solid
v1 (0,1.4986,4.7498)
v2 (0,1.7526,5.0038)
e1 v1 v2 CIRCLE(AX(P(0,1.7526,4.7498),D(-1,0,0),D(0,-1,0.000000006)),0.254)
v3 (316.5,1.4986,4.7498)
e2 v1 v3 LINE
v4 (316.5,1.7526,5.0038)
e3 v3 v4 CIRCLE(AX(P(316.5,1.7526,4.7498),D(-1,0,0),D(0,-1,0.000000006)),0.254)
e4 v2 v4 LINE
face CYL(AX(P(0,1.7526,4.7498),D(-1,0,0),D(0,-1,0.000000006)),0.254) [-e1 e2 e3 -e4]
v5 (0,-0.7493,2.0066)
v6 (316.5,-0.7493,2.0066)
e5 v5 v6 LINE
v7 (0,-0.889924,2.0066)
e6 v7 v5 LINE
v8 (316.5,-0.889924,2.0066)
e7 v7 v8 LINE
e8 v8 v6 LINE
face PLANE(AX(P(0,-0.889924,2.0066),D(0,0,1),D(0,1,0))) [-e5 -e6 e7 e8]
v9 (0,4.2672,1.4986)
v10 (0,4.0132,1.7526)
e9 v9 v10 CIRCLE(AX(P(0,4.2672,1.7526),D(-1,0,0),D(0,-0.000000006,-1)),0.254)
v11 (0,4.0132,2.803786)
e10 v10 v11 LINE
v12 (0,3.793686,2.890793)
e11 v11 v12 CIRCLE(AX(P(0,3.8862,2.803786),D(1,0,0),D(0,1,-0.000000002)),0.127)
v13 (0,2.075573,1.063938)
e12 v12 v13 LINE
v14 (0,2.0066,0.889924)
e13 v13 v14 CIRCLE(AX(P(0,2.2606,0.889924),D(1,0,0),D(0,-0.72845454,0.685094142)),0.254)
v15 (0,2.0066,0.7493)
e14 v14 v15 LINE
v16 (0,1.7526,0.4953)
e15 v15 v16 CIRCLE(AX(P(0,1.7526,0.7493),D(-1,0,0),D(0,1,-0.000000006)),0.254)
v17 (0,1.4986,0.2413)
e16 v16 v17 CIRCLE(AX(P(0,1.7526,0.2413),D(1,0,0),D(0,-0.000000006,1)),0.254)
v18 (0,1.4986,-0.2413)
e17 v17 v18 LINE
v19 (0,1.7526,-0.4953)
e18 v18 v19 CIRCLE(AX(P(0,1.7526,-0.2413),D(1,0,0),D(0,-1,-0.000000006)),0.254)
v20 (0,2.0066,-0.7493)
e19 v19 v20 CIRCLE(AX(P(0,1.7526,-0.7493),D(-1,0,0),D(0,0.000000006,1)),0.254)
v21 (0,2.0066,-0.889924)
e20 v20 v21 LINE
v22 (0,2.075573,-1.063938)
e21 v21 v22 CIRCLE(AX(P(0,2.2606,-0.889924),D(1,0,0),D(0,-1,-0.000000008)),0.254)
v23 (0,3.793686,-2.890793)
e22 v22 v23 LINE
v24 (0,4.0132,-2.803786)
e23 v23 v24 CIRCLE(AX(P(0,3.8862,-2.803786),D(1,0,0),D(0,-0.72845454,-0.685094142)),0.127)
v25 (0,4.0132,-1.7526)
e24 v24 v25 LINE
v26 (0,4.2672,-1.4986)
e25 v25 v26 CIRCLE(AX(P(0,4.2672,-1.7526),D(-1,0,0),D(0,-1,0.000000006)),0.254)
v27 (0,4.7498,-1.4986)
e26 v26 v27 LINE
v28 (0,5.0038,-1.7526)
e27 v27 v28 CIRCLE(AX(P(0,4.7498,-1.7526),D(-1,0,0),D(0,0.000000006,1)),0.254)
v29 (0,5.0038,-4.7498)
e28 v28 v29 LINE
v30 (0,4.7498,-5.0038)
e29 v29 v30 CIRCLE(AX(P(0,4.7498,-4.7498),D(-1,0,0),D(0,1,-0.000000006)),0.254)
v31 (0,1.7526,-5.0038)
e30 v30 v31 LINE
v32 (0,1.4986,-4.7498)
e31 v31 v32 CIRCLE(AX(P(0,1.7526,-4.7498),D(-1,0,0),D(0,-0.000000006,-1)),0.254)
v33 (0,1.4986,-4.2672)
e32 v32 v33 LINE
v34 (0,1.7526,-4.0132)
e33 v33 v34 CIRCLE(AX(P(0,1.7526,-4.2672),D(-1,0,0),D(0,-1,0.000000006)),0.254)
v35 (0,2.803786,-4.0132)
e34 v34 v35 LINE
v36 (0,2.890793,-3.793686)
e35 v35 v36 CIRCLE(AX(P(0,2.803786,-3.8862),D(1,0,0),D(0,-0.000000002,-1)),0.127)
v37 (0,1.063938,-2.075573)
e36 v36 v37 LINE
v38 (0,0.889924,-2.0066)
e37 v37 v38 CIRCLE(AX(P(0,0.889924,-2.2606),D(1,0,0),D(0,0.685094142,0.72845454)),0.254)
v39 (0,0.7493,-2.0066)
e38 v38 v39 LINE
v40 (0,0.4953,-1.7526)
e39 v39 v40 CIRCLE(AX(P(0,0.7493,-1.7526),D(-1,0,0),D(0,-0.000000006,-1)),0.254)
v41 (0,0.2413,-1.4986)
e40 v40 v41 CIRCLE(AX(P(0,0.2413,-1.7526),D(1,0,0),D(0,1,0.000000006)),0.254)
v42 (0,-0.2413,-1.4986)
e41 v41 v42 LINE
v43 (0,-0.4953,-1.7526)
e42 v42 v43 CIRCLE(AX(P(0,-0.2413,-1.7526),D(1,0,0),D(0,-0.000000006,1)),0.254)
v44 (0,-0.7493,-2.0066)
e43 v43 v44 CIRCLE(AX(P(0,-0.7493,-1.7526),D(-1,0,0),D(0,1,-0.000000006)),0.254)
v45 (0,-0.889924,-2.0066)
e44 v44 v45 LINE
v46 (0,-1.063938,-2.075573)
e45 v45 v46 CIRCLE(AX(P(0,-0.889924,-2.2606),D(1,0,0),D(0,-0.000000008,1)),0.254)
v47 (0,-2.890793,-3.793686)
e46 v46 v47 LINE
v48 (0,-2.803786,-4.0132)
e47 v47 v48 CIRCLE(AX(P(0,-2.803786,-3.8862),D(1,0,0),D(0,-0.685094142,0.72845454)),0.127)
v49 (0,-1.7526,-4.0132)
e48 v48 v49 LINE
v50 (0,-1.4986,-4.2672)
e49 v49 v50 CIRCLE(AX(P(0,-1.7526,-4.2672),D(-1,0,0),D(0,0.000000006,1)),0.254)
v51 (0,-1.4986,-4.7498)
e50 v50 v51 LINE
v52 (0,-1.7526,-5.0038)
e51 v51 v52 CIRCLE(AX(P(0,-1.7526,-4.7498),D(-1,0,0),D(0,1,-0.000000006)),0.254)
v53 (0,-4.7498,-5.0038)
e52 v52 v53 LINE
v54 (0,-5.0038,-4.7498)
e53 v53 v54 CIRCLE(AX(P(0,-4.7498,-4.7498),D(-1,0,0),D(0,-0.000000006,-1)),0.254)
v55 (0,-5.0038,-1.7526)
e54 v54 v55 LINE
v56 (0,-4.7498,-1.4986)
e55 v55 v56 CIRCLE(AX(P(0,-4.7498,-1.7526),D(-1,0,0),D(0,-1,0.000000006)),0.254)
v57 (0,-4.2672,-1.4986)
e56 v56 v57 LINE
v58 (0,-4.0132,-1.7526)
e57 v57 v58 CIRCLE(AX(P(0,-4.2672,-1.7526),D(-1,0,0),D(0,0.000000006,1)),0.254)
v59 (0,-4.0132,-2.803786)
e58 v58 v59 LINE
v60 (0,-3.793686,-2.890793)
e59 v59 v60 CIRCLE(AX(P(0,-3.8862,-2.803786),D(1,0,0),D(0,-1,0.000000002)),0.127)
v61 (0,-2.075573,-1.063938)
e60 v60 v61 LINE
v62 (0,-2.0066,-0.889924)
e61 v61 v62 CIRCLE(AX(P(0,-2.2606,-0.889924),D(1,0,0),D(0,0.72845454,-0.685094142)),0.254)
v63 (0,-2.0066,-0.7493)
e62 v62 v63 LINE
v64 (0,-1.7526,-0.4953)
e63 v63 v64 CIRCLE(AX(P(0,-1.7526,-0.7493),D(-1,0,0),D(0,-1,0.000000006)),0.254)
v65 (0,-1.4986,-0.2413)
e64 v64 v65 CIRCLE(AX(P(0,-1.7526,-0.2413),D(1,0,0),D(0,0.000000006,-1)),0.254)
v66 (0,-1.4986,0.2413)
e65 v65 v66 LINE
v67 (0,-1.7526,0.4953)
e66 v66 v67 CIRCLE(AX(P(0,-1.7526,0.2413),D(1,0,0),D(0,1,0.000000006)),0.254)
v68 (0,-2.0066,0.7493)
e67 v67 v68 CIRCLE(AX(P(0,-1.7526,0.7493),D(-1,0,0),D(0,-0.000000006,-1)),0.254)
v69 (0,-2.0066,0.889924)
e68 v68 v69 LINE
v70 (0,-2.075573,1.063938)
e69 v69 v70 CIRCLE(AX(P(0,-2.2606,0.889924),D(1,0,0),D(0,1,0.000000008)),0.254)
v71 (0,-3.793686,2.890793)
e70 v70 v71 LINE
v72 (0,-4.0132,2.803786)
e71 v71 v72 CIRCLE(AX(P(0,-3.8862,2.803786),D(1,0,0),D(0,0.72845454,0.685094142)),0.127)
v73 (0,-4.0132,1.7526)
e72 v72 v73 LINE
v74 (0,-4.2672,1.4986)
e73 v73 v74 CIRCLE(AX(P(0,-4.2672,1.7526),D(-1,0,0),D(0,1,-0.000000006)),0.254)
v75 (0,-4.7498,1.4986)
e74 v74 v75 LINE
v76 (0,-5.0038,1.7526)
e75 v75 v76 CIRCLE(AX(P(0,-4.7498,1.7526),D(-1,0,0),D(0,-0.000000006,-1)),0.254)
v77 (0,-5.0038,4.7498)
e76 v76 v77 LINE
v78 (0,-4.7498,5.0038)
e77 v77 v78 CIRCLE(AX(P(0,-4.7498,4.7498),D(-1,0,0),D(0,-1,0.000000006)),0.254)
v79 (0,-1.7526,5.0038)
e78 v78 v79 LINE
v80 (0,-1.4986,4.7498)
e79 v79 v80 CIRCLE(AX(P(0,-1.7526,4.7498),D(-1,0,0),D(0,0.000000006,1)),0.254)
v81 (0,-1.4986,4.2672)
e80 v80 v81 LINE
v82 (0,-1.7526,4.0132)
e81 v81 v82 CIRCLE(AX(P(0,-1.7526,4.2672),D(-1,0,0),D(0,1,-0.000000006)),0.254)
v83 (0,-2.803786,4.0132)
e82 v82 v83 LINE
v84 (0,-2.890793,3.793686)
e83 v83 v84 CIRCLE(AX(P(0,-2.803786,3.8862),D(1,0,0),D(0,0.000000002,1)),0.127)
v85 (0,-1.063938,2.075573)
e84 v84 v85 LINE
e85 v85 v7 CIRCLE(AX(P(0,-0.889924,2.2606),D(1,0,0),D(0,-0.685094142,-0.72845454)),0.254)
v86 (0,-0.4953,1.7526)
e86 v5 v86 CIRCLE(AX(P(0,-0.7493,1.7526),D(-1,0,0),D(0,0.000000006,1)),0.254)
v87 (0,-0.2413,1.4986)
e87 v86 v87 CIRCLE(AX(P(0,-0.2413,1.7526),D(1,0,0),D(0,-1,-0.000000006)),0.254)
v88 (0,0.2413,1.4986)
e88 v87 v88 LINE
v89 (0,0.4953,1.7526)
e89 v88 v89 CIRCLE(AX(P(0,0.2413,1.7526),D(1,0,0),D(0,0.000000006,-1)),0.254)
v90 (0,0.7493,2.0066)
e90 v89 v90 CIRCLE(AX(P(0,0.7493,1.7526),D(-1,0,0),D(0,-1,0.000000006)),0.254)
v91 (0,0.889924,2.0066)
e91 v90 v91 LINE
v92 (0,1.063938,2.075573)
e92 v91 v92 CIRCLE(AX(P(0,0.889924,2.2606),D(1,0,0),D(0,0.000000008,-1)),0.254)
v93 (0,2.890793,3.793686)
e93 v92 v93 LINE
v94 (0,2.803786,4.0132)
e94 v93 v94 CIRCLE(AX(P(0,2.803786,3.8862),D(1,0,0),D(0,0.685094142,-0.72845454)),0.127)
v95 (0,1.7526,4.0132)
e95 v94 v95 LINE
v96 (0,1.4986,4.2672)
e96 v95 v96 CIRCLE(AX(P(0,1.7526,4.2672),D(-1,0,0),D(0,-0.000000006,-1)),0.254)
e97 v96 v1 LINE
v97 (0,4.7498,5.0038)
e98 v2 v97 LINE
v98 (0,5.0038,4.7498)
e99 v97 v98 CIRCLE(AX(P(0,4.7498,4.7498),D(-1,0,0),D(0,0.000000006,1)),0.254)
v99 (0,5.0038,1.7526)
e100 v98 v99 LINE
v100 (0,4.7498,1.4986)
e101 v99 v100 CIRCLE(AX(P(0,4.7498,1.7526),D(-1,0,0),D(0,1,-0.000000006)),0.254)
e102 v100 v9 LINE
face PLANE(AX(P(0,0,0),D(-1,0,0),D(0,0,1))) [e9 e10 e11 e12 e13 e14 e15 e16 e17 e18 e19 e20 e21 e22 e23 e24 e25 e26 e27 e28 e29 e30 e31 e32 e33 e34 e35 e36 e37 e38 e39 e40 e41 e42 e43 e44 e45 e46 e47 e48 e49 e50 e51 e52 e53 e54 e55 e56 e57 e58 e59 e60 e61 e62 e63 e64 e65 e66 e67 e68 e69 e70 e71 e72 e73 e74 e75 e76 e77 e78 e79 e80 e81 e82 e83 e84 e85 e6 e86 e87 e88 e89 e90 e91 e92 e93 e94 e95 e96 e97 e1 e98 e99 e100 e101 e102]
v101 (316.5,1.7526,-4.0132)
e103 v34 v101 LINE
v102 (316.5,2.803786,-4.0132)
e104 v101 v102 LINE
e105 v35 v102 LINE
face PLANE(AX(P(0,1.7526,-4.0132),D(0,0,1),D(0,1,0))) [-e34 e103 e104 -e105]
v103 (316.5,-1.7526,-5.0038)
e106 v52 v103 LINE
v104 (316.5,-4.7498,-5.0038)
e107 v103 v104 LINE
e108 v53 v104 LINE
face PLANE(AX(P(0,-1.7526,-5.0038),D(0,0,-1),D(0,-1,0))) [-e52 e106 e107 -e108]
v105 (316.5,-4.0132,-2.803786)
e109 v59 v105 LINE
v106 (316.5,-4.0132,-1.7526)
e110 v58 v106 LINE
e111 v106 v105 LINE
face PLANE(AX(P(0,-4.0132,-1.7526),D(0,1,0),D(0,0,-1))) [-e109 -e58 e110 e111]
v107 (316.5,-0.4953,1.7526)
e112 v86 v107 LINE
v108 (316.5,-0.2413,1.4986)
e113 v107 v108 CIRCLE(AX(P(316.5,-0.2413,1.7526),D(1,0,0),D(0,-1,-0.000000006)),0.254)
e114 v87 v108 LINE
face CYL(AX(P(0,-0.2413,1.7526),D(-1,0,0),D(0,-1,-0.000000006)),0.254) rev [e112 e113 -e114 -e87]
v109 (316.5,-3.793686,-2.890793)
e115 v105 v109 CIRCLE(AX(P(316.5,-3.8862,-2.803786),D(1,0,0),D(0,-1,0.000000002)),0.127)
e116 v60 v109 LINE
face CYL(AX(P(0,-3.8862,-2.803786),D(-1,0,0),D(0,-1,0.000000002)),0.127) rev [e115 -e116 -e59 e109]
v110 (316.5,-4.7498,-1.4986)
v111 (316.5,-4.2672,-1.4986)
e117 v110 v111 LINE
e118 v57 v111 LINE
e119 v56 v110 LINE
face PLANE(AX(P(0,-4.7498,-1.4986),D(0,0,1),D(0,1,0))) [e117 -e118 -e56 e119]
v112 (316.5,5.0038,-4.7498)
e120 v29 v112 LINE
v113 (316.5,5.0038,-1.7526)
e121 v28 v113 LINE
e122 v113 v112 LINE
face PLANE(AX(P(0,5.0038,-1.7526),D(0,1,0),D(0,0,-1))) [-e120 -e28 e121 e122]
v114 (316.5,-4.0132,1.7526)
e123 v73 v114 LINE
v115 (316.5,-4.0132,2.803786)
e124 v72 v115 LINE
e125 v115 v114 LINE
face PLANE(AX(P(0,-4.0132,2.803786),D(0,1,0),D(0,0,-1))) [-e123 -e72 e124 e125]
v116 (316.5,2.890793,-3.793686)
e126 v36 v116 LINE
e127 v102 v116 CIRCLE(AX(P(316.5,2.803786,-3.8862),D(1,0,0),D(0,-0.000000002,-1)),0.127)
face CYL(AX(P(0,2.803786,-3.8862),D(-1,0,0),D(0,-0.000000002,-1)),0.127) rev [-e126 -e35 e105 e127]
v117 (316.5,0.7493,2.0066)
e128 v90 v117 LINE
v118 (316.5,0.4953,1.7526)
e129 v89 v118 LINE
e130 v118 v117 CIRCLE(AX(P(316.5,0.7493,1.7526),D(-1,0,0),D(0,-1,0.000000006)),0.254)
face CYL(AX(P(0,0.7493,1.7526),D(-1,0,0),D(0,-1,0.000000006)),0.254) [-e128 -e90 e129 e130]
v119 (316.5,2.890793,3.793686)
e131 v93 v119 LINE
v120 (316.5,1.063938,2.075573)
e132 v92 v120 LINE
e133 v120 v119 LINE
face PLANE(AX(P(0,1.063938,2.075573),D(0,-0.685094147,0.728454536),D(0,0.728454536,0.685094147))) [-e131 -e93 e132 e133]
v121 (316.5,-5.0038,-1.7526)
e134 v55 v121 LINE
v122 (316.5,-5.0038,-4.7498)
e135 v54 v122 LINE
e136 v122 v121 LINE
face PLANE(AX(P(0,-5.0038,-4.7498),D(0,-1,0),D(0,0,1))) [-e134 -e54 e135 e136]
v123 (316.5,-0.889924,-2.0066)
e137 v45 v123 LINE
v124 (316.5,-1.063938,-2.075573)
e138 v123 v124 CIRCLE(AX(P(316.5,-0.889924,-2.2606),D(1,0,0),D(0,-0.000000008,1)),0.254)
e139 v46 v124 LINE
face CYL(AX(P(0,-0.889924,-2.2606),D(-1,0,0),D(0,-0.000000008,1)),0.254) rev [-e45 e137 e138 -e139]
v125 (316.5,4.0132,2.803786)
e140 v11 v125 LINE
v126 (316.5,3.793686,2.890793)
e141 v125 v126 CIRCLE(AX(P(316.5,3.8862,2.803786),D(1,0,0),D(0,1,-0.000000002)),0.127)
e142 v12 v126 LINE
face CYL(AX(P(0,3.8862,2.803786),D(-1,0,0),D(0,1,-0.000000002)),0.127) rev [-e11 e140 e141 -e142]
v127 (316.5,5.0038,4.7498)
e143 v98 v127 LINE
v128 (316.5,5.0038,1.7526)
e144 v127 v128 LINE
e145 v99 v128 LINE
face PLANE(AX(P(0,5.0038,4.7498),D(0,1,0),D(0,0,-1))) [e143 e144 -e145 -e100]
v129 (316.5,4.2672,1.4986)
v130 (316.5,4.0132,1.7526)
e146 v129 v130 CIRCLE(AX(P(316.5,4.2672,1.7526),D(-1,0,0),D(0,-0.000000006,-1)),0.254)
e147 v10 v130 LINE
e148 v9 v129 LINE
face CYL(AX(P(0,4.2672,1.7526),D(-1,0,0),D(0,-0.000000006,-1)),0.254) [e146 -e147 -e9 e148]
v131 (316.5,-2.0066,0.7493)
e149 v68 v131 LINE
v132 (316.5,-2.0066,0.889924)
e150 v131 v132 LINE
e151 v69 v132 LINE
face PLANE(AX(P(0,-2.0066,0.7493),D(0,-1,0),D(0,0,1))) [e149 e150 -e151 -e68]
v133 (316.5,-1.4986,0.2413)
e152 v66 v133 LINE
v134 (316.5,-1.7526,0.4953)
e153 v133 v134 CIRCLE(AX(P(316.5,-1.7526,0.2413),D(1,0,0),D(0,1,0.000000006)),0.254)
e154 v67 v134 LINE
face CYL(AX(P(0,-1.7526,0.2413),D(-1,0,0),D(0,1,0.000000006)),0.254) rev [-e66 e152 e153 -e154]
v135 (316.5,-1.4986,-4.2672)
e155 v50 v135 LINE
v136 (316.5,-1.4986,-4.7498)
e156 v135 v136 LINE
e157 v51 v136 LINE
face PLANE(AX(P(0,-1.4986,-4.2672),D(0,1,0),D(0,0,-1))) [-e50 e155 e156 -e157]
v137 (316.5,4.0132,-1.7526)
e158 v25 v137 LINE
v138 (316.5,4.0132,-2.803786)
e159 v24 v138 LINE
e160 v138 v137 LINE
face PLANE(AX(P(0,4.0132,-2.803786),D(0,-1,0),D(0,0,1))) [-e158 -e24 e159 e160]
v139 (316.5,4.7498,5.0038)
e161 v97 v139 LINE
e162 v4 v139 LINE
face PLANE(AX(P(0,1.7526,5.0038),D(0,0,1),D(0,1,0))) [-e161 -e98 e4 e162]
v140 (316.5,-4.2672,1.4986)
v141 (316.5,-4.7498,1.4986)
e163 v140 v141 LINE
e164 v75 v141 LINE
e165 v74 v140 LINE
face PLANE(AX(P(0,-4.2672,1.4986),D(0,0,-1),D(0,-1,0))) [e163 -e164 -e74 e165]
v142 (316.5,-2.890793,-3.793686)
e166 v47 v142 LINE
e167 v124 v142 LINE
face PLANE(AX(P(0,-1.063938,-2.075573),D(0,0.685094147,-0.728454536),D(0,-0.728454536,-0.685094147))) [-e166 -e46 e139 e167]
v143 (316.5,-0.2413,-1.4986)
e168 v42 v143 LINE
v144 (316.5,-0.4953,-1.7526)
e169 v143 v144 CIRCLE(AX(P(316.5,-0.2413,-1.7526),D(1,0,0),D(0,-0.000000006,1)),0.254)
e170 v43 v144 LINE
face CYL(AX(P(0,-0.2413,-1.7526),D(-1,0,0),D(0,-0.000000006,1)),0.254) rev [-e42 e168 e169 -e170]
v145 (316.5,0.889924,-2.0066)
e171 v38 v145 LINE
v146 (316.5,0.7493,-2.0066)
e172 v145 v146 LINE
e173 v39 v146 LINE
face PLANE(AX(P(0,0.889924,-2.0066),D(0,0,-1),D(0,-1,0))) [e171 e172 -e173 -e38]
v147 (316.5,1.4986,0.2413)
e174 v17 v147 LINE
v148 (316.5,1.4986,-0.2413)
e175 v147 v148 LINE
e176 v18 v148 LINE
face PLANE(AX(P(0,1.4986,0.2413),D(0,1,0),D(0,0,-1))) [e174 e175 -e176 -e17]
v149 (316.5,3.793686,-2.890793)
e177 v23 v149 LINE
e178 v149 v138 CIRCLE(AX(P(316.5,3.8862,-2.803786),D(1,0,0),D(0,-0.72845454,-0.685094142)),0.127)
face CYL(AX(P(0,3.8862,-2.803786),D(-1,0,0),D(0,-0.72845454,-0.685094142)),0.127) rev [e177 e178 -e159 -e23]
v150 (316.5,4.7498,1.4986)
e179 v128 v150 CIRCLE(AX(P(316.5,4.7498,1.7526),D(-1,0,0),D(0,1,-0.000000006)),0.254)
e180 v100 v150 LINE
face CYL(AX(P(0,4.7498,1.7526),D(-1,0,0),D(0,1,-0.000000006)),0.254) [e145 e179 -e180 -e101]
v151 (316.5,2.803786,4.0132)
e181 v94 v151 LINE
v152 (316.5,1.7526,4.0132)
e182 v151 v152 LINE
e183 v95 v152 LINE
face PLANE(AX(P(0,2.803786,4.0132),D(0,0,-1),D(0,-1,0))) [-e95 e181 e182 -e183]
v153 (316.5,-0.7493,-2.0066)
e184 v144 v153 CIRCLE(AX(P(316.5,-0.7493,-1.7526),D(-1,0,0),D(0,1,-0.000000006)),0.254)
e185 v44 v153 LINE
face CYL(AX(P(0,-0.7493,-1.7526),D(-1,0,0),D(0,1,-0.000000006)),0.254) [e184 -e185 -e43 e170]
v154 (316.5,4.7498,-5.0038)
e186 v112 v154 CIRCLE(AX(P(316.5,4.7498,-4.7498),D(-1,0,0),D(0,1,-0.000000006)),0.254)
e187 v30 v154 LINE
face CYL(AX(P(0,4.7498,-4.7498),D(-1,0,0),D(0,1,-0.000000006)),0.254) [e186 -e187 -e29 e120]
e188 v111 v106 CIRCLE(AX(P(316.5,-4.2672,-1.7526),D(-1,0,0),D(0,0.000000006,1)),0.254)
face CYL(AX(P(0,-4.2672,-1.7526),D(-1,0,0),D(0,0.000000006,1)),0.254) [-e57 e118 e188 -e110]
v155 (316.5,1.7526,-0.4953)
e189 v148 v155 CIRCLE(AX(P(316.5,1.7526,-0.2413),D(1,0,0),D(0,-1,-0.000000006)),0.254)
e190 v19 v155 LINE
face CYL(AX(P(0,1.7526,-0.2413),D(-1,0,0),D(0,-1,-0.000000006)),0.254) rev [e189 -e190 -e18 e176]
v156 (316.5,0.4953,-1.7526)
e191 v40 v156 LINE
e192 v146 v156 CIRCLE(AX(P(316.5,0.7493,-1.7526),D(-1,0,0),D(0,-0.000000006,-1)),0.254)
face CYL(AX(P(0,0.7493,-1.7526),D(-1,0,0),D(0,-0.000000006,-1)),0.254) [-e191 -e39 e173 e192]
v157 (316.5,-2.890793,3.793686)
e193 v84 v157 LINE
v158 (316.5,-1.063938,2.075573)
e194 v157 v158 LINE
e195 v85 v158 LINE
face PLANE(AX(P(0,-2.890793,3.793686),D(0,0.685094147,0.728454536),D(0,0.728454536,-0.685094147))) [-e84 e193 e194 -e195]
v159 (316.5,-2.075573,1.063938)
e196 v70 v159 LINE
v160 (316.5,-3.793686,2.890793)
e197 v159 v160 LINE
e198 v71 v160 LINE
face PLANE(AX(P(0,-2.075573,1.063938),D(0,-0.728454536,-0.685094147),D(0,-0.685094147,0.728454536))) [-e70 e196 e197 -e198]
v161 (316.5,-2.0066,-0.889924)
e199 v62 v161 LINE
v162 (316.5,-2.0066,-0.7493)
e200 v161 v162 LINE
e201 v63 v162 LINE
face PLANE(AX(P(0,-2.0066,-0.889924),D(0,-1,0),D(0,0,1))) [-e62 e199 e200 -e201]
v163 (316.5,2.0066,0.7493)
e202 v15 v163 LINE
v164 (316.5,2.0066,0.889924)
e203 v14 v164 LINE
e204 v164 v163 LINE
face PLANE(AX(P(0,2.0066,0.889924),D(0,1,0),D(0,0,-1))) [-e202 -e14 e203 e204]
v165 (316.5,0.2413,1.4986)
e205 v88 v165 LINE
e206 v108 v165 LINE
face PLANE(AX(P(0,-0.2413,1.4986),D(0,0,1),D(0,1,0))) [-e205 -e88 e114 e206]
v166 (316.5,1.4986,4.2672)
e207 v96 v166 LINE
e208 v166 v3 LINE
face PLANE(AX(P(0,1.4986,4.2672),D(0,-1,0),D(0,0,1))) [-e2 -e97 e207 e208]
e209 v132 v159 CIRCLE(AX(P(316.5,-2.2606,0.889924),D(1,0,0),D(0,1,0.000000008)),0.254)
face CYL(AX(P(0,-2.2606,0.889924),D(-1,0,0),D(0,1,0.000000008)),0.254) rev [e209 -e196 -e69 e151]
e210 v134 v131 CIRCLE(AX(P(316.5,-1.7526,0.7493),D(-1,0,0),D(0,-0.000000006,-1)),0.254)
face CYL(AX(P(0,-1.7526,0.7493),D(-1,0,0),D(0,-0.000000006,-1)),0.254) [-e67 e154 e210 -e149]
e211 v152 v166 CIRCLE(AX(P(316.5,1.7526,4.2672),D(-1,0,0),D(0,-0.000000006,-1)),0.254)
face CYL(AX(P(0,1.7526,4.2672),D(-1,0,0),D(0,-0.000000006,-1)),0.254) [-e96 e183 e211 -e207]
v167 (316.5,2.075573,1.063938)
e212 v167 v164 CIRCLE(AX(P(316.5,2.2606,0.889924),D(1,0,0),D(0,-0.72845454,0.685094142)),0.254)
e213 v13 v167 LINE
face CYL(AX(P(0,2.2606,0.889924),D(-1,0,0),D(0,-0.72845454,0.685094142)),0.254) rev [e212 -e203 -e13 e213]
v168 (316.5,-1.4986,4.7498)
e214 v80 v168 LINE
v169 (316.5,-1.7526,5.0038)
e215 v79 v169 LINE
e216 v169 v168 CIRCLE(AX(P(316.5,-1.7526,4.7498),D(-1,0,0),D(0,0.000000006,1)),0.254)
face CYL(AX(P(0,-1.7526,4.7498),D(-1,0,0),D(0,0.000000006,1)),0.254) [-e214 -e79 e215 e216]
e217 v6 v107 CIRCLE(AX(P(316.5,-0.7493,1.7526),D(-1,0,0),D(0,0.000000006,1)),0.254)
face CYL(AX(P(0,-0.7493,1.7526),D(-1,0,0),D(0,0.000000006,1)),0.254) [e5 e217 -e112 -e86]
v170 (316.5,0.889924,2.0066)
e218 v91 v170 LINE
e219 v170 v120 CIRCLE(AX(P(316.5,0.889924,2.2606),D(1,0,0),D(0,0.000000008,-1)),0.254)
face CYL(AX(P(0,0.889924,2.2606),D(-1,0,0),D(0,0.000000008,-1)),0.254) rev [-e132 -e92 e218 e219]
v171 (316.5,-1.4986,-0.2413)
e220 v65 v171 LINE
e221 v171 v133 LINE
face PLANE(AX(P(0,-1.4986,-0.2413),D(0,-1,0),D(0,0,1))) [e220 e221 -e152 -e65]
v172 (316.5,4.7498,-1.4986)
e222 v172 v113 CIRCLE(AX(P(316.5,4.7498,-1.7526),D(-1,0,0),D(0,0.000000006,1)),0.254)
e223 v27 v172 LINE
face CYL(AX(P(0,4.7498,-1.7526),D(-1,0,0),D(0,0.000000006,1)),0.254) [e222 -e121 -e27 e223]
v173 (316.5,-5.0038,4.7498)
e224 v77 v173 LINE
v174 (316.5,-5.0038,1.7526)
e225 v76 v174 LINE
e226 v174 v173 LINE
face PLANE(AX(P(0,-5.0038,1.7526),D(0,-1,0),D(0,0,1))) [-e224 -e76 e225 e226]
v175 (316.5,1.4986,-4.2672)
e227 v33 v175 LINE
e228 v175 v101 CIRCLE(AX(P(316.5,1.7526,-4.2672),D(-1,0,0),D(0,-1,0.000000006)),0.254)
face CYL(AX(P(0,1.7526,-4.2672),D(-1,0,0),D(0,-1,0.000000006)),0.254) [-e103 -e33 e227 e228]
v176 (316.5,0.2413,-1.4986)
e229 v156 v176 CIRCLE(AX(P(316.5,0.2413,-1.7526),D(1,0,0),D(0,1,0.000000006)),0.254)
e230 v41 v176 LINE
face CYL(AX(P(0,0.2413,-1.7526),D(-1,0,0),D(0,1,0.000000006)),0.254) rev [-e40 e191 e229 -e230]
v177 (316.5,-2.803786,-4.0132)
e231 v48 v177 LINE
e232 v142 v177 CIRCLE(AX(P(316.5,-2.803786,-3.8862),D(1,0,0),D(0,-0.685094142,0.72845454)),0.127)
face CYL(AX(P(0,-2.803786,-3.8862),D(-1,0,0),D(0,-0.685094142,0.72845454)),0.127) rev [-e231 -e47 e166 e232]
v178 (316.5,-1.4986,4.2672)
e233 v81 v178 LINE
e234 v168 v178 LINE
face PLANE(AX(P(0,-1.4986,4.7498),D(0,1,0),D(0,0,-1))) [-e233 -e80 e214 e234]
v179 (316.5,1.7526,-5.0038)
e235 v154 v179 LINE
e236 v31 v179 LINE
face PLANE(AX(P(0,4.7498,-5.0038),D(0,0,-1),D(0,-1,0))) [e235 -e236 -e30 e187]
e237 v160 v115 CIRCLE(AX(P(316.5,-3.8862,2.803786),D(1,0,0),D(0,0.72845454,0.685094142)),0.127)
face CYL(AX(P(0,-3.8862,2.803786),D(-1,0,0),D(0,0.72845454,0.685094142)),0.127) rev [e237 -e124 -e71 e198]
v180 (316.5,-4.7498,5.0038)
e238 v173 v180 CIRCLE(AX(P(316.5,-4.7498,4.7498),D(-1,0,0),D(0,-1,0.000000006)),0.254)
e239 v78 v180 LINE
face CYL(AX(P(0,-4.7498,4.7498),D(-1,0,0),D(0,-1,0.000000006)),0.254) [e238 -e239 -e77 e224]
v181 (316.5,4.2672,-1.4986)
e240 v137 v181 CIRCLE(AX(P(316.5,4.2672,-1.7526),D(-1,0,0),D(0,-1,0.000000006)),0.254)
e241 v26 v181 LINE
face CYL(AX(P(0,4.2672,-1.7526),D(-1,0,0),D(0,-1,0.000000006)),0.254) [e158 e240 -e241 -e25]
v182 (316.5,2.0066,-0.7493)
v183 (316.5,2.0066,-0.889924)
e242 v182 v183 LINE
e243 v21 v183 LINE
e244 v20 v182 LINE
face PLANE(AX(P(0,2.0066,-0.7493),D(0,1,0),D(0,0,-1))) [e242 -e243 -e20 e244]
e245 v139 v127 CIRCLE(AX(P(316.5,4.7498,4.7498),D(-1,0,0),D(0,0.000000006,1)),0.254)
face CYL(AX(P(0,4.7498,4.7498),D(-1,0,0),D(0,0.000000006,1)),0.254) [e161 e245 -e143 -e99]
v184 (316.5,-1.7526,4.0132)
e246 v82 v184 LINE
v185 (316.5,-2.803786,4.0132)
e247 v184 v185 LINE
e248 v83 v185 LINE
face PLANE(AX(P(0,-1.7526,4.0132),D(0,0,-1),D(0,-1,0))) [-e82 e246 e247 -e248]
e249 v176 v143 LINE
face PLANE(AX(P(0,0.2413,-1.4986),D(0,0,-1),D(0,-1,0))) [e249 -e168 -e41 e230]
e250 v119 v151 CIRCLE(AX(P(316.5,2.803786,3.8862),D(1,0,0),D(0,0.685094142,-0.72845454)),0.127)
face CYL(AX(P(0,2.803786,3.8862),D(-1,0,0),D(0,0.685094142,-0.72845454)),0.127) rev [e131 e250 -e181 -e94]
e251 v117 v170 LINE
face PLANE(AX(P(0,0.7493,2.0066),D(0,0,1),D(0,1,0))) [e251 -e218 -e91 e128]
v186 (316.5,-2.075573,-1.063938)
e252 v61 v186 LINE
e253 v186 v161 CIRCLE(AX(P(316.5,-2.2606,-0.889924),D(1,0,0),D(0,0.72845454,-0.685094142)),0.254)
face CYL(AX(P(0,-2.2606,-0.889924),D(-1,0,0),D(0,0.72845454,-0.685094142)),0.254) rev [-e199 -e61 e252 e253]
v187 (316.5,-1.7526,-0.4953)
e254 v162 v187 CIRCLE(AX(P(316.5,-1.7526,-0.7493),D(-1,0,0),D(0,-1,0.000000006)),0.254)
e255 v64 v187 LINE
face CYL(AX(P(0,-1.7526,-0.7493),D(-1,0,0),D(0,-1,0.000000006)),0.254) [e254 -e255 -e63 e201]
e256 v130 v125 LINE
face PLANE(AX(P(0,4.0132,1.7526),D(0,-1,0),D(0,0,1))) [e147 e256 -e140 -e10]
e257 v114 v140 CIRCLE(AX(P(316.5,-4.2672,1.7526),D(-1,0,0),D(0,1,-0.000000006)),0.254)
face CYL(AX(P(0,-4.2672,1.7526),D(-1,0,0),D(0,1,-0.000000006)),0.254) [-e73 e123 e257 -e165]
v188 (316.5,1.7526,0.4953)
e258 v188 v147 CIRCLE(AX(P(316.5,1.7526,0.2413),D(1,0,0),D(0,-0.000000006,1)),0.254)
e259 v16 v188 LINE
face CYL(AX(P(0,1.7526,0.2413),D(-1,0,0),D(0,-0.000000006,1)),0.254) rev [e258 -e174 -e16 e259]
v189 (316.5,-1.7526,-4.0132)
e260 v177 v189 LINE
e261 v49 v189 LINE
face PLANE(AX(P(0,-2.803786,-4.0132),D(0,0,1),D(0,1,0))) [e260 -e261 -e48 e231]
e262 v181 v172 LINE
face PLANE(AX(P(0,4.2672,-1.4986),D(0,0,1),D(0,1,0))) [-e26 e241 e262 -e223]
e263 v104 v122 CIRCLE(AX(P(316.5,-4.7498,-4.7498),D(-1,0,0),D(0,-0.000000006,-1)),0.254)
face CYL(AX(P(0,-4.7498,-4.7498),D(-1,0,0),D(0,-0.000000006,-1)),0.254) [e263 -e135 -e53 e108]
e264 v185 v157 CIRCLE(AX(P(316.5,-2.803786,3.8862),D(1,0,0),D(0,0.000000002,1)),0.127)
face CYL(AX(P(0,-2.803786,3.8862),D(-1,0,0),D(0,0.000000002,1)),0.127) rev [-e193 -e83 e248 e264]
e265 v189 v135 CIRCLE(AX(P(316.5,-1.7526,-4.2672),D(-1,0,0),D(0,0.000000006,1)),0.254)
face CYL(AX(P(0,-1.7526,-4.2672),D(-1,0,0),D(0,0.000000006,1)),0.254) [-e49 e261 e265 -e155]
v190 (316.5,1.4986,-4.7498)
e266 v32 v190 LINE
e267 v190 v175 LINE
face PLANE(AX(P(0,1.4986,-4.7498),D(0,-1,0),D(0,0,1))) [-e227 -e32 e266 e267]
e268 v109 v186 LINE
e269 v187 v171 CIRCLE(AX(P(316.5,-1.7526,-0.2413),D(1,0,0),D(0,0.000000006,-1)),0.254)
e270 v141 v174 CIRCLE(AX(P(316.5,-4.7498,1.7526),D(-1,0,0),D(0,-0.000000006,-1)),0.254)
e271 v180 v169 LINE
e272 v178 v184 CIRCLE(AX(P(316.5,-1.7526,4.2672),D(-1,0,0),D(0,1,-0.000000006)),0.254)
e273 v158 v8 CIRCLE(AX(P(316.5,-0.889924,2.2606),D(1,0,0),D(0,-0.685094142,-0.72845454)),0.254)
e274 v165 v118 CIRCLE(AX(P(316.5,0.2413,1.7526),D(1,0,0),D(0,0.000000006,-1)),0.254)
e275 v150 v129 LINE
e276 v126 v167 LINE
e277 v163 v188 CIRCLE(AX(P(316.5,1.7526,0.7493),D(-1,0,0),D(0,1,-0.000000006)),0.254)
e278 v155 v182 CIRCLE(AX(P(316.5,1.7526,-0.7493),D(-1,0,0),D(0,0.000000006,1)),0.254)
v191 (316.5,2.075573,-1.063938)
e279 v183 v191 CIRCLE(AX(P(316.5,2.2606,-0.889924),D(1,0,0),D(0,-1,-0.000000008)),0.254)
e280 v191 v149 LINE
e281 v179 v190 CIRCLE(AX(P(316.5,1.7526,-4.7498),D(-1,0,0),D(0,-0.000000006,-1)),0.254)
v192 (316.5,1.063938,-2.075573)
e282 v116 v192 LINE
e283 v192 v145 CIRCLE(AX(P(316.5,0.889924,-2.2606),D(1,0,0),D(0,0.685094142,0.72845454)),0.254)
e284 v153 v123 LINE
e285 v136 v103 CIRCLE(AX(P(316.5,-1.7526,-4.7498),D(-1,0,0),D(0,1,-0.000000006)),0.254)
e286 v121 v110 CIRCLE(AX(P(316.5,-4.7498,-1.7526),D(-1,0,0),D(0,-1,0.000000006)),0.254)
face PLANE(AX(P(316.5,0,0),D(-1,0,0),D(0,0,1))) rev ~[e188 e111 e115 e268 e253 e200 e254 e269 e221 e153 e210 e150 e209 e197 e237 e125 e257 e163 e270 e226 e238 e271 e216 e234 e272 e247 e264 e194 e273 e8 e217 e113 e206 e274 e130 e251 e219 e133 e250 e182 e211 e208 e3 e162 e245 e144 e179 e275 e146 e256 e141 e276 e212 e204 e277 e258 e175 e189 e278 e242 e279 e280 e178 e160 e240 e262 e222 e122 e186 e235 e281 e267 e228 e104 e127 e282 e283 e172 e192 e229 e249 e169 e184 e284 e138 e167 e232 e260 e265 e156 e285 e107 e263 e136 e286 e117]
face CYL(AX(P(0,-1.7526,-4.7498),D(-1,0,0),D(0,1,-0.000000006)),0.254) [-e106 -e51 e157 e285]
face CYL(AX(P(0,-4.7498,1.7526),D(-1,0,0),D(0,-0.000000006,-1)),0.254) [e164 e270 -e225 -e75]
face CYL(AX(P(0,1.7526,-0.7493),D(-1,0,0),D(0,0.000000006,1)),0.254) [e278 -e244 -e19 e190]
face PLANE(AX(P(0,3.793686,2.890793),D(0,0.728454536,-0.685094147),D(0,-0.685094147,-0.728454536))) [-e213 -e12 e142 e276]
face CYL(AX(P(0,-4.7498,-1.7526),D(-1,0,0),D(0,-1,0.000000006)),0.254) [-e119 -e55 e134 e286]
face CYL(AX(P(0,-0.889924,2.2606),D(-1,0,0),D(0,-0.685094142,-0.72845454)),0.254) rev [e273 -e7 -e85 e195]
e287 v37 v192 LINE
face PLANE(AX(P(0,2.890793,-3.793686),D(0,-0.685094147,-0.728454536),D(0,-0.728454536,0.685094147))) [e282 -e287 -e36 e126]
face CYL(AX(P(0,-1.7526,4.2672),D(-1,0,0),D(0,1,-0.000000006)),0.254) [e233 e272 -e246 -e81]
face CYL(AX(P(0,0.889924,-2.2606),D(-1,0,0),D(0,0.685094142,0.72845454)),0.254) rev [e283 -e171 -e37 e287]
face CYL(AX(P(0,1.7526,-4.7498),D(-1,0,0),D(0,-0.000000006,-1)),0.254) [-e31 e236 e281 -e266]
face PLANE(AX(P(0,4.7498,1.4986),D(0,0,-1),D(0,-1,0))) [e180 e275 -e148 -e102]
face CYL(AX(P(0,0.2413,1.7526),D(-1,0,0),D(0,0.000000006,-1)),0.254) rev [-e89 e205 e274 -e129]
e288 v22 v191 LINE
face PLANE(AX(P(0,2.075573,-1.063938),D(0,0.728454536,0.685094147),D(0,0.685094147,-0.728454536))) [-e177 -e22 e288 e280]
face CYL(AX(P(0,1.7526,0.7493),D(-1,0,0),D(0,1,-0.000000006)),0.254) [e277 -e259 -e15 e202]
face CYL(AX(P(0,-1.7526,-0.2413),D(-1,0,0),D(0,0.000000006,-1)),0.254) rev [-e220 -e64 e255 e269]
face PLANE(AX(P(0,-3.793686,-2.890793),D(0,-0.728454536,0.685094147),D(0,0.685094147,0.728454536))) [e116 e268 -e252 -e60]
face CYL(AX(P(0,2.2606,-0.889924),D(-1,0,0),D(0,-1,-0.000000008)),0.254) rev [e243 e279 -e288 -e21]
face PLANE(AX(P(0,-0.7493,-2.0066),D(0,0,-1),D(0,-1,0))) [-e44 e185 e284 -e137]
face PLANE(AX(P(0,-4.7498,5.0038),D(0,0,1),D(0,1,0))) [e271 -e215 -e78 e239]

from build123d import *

# Parameters (mm, degrees)
BOSS_EXTRU_1_DEPTH = 316.5


with BuildPart() as part:
    # Sketch1 → Boss.-Extru.1 (new body)
    with BuildSketch(Plane(origin=(0, 0, 0), x_dir=(0, 0, -1), z_dir=(1, 0, 0))):
        with BuildLine():
            Line((-0.2413, 1.4986), (0.2413, 1.4986))
            ThreePointArc((0.2413, 1.4986), (0.420905122, 1.572994878), (0.4953, 1.7526))
            ThreePointArc((0.4953, 1.7526), (0.569694878, 1.932205122), (0.7493, 2.0066))
            Line((0.7493, 2.0066), (0.889923986, 2.0066))
            ThreePointArc((0.889923986, 2.0066), (0.983516259, 2.024471886), (1.063937899, 2.075572548))
            Line((1.063937899, 2.075572548), (2.890793, 3.793686274))
            ThreePointArc((2.890793, 3.793686274), (2.921850101, 3.932996137), (2.803786044, 4.0132))
            Line((2.803786044, 4.0132), (1.7526, 4.0132))
            ThreePointArc((1.7526, 4.0132), (1.572994878, 4.087594878), (1.4986, 4.2672))
            Line((1.4986, 4.2672), (1.4986, 4.7498))
            ThreePointArc((1.4986, 4.7498), (1.572994878, 4.929405122), (1.7526, 5.0038))
            Line((1.7526, 5.0038), (4.7498, 5.0038))
            ThreePointArc((4.7498, 5.0038), (4.929405122, 4.929405122), (5.0038, 4.7498))
            Line((5.0038, 4.7498), (5.0038, 1.7526))
            ThreePointArc((5.0038, 1.7526), (4.929405122, 1.572994878), (4.7498, 1.4986))
            Line((4.7498, 1.4986), (4.2672, 1.4986))
            ThreePointArc((4.2672, 1.4986), (4.087594878, 1.572994878), (4.0132, 1.7526))
            Line((4.0132, 1.7526), (4.0132, 2.803786044))
            ThreePointArc((4.0132, 2.803786044), (3.932996137, 2.921850101), (3.793686274, 2.890793))
            Line((3.793686274, 2.890793), (2.075572548, 1.063937899))
            ThreePointArc((2.075572548, 1.063937899), (2.024471886, 0.983516259), (2.0066, 0.889923986))
            Line((2.0066, 0.889923986), (2.0066, 0.7493))
            ThreePointArc((2.0066, 0.7493), (1.932205122, 0.569694878), (1.7526, 0.4953))
            ThreePointArc((1.7526, 0.4953), (1.572994878, 0.420905122), (1.4986, 0.2413))
            Line((1.4986, 0.2413), (1.4986, -0.2413))
            ThreePointArc((1.4986, -0.2413), (1.572994878, -0.420905122), (1.7526, -0.4953))
            ThreePointArc((1.7526, -0.4953), (1.932205122, -0.569694878), (2.0066, -0.7493))
            Line((2.0066, -0.7493), (2.0066, -0.889923986))
            ThreePointArc((2.0066, -0.889923986), (2.024471886, -0.983516259), (2.075572548, -1.063937899))
            Line((2.075572548, -1.063937899), (3.793686274, -2.890793))
            ThreePointArc((3.793686274, -2.890793), (3.932996137, -2.921850101), (4.0132, -2.803786044))
            Line((4.0132, -2.803786044), (4.0132, -1.7526))
            ThreePointArc((4.0132, -1.7526), (4.087594878, -1.572994878), (4.2672, -1.4986))
            Line((4.2672, -1.4986), (4.7498, -1.4986))
            ThreePointArc((4.7498, -1.4986), (4.929405122, -1.572994878), (5.0038, -1.7526))
            Line((5.0038, -1.7526), (5.0038, -4.7498))
            ThreePointArc((5.0038, -4.7498), (4.929405122, -4.929405122), (4.7498, -5.0038))
            Line((4.7498, -5.0038), (1.7526, -5.0038))
            ThreePointArc((1.7526, -5.0038), (1.572994878, -4.929405122), (1.4986, -4.7498))
            Line((1.4986, -4.7498), (1.4986, -4.2672))
            ThreePointArc((1.4986, -4.2672), (1.572994878, -4.087594878), (1.7526, -4.0132))
            Line((1.7526, -4.0132), (2.803786044, -4.0132))
            ThreePointArc((2.803786044, -4.0132), (2.921850101, -3.932996137), (2.890793, -3.793686274))
            Line((2.890793, -3.793686274), (1.063937899, -2.075572548))
            ThreePointArc((1.063937899, -2.075572548), (0.983516259, -2.024471886), (0.889923986, -2.0066))
            Line((0.889923986, -2.0066), (0.7493, -2.0066))
            ThreePointArc((0.7493, -2.0066), (0.569694878, -1.932205122), (0.4953, -1.7526))
            ThreePointArc((0.4953, -1.7526), (0.420905122, -1.572994878), (0.2413, -1.4986))
            Line((0.2413, -1.4986), (-0.2413, -1.4986))
            ThreePointArc((-0.2413, -1.4986), (-0.420905122, -1.572994878), (-0.4953, -1.7526))
            ThreePointArc((-0.4953, -1.7526), (-0.569694878, -1.932205122), (-0.7493, -2.0066))
            Line((-0.7493, -2.0066), (-0.889923986, -2.0066))
            ThreePointArc((-0.889923986, -2.0066), (-0.983516259, -2.024471886), (-1.063937899, -2.075572548))
            Line((-1.063937899, -2.075572548), (-2.890793, -3.793686274))
            ThreePointArc((-2.890793, -3.793686274), (-2.921850101, -3.932996137), (-2.803786044, -4.0132))
            Line((-2.803786044, -4.0132), (-1.7526, -4.0132))
            ThreePointArc((-1.7526, -4.0132), (-1.572994878, -4.087594878), (-1.4986, -4.2672))
            Line((-1.4986, -4.2672), (-1.4986, -4.7498))
            ThreePointArc((-1.4986, -4.7498), (-1.572994878, -4.929405122), (-1.7526, -5.0038))
            Line((-1.7526, -5.0038), (-4.7498, -5.0038))
            ThreePointArc((-4.7498, -5.0038), (-4.929405122, -4.929405122), (-5.0038, -4.7498))
            Line((-5.0038, -4.7498), (-5.0038, -1.7526))
            ThreePointArc((-5.0038, -1.7526), (-4.929405122, -1.572994878), (-4.7498, -1.4986))
            Line((-4.7498, -1.4986), (-4.2672, -1.4986))
            ThreePointArc((-4.2672, -1.4986), (-4.087594878, -1.572994878), (-4.0132, -1.7526))
            Line((-4.0132, -1.7526), (-4.0132, -2.803786044))
            ThreePointArc((-4.0132, -2.803786044), (-3.932996137, -2.921850101), (-3.793686274, -2.890793))
            Line((-3.793686274, -2.890793), (-2.075572548, -1.063937899))
            ThreePointArc((-2.075572548, -1.063937899), (-2.024471886, -0.983516259), (-2.0066, -0.889923986))
            Line((-2.0066, -0.889923986), (-2.0066, -0.7493))
            ThreePointArc((-2.0066, -0.7493), (-1.932205122, -0.569694878), (-1.7526, -0.4953))
            ThreePointArc((-1.7526, -0.4953), (-1.572994878, -0.420905122), (-1.4986, -0.2413))
            Line((-1.4986, -0.2413), (-1.4986, 0.2413))
            ThreePointArc((-1.4986, 0.2413), (-1.572994878, 0.420905122), (-1.7526, 0.4953))
            ThreePointArc((-1.7526, 0.4953), (-1.932205122, 0.569694878), (-2.0066, 0.7493))
            Line((-2.0066, 0.7493), (-2.0066, 0.889923986))
            ThreePointArc((-2.0066, 0.889923986), (-2.024471886, 0.983516259), (-2.075572548, 1.063937899))
            Line((-2.075572548, 1.063937899), (-3.793686274, 2.890793))
            ThreePointArc((-3.793686274, 2.890793), (-3.932996137, 2.921850101), (-4.0132, 2.803786044))
            Line((-4.0132, 2.803786044), (-4.0132, 1.7526))
            ThreePointArc((-4.0132, 1.7526), (-4.087594878, 1.572994878), (-4.2672, 1.4986))
            Line((-4.2672, 1.4986), (-4.7498, 1.4986))
            ThreePointArc((-4.7498, 1.4986), (-4.929405122, 1.572994878), (-5.0038, 1.7526))
            Line((-5.0038, 1.7526), (-5.0038, 4.7498))
            ThreePointArc((-5.0038, 4.7498), (-4.929405122, 4.929405122), (-4.7498, 5.0038))
            Line((-4.7498, 5.0038), (-1.7526, 5.0038))
            ThreePointArc((-1.7526, 5.0038), (-1.572994878, 4.929405122), (-1.4986, 4.7498))
            Line((-1.4986, 4.7498), (-1.4986, 4.2672))
            ThreePointArc((-1.4986, 4.2672), (-1.572994878, 4.087594878), (-1.7526, 4.0132))
            Line((-1.7526, 4.0132), (-2.803786044, 4.0132))
            ThreePointArc((-2.803786044, 4.0132), (-2.921850101, 3.932996137), (-2.890793, 3.793686274))
            Line((-2.890793, 3.793686274), (-1.063937899, 2.075572548))
            ThreePointArc((-1.063937899, 2.075572548), (-0.983516259, 2.024471886), (-0.889923986, 2.0066))
            Line((-0.889923986, 2.0066), (-0.7493, 2.0066))
            ThreePointArc((-0.7493, 2.0066), (-0.569694878, 1.932205122), (-0.4953, 1.7526))
            ThreePointArc((-0.4953, 1.7526), (-0.420905122, 1.572994878), (-0.2413, 1.4986))
        make_face()
    extrude(amount=BOSS_EXTRU_1_DEPTH)


solid = part.part
